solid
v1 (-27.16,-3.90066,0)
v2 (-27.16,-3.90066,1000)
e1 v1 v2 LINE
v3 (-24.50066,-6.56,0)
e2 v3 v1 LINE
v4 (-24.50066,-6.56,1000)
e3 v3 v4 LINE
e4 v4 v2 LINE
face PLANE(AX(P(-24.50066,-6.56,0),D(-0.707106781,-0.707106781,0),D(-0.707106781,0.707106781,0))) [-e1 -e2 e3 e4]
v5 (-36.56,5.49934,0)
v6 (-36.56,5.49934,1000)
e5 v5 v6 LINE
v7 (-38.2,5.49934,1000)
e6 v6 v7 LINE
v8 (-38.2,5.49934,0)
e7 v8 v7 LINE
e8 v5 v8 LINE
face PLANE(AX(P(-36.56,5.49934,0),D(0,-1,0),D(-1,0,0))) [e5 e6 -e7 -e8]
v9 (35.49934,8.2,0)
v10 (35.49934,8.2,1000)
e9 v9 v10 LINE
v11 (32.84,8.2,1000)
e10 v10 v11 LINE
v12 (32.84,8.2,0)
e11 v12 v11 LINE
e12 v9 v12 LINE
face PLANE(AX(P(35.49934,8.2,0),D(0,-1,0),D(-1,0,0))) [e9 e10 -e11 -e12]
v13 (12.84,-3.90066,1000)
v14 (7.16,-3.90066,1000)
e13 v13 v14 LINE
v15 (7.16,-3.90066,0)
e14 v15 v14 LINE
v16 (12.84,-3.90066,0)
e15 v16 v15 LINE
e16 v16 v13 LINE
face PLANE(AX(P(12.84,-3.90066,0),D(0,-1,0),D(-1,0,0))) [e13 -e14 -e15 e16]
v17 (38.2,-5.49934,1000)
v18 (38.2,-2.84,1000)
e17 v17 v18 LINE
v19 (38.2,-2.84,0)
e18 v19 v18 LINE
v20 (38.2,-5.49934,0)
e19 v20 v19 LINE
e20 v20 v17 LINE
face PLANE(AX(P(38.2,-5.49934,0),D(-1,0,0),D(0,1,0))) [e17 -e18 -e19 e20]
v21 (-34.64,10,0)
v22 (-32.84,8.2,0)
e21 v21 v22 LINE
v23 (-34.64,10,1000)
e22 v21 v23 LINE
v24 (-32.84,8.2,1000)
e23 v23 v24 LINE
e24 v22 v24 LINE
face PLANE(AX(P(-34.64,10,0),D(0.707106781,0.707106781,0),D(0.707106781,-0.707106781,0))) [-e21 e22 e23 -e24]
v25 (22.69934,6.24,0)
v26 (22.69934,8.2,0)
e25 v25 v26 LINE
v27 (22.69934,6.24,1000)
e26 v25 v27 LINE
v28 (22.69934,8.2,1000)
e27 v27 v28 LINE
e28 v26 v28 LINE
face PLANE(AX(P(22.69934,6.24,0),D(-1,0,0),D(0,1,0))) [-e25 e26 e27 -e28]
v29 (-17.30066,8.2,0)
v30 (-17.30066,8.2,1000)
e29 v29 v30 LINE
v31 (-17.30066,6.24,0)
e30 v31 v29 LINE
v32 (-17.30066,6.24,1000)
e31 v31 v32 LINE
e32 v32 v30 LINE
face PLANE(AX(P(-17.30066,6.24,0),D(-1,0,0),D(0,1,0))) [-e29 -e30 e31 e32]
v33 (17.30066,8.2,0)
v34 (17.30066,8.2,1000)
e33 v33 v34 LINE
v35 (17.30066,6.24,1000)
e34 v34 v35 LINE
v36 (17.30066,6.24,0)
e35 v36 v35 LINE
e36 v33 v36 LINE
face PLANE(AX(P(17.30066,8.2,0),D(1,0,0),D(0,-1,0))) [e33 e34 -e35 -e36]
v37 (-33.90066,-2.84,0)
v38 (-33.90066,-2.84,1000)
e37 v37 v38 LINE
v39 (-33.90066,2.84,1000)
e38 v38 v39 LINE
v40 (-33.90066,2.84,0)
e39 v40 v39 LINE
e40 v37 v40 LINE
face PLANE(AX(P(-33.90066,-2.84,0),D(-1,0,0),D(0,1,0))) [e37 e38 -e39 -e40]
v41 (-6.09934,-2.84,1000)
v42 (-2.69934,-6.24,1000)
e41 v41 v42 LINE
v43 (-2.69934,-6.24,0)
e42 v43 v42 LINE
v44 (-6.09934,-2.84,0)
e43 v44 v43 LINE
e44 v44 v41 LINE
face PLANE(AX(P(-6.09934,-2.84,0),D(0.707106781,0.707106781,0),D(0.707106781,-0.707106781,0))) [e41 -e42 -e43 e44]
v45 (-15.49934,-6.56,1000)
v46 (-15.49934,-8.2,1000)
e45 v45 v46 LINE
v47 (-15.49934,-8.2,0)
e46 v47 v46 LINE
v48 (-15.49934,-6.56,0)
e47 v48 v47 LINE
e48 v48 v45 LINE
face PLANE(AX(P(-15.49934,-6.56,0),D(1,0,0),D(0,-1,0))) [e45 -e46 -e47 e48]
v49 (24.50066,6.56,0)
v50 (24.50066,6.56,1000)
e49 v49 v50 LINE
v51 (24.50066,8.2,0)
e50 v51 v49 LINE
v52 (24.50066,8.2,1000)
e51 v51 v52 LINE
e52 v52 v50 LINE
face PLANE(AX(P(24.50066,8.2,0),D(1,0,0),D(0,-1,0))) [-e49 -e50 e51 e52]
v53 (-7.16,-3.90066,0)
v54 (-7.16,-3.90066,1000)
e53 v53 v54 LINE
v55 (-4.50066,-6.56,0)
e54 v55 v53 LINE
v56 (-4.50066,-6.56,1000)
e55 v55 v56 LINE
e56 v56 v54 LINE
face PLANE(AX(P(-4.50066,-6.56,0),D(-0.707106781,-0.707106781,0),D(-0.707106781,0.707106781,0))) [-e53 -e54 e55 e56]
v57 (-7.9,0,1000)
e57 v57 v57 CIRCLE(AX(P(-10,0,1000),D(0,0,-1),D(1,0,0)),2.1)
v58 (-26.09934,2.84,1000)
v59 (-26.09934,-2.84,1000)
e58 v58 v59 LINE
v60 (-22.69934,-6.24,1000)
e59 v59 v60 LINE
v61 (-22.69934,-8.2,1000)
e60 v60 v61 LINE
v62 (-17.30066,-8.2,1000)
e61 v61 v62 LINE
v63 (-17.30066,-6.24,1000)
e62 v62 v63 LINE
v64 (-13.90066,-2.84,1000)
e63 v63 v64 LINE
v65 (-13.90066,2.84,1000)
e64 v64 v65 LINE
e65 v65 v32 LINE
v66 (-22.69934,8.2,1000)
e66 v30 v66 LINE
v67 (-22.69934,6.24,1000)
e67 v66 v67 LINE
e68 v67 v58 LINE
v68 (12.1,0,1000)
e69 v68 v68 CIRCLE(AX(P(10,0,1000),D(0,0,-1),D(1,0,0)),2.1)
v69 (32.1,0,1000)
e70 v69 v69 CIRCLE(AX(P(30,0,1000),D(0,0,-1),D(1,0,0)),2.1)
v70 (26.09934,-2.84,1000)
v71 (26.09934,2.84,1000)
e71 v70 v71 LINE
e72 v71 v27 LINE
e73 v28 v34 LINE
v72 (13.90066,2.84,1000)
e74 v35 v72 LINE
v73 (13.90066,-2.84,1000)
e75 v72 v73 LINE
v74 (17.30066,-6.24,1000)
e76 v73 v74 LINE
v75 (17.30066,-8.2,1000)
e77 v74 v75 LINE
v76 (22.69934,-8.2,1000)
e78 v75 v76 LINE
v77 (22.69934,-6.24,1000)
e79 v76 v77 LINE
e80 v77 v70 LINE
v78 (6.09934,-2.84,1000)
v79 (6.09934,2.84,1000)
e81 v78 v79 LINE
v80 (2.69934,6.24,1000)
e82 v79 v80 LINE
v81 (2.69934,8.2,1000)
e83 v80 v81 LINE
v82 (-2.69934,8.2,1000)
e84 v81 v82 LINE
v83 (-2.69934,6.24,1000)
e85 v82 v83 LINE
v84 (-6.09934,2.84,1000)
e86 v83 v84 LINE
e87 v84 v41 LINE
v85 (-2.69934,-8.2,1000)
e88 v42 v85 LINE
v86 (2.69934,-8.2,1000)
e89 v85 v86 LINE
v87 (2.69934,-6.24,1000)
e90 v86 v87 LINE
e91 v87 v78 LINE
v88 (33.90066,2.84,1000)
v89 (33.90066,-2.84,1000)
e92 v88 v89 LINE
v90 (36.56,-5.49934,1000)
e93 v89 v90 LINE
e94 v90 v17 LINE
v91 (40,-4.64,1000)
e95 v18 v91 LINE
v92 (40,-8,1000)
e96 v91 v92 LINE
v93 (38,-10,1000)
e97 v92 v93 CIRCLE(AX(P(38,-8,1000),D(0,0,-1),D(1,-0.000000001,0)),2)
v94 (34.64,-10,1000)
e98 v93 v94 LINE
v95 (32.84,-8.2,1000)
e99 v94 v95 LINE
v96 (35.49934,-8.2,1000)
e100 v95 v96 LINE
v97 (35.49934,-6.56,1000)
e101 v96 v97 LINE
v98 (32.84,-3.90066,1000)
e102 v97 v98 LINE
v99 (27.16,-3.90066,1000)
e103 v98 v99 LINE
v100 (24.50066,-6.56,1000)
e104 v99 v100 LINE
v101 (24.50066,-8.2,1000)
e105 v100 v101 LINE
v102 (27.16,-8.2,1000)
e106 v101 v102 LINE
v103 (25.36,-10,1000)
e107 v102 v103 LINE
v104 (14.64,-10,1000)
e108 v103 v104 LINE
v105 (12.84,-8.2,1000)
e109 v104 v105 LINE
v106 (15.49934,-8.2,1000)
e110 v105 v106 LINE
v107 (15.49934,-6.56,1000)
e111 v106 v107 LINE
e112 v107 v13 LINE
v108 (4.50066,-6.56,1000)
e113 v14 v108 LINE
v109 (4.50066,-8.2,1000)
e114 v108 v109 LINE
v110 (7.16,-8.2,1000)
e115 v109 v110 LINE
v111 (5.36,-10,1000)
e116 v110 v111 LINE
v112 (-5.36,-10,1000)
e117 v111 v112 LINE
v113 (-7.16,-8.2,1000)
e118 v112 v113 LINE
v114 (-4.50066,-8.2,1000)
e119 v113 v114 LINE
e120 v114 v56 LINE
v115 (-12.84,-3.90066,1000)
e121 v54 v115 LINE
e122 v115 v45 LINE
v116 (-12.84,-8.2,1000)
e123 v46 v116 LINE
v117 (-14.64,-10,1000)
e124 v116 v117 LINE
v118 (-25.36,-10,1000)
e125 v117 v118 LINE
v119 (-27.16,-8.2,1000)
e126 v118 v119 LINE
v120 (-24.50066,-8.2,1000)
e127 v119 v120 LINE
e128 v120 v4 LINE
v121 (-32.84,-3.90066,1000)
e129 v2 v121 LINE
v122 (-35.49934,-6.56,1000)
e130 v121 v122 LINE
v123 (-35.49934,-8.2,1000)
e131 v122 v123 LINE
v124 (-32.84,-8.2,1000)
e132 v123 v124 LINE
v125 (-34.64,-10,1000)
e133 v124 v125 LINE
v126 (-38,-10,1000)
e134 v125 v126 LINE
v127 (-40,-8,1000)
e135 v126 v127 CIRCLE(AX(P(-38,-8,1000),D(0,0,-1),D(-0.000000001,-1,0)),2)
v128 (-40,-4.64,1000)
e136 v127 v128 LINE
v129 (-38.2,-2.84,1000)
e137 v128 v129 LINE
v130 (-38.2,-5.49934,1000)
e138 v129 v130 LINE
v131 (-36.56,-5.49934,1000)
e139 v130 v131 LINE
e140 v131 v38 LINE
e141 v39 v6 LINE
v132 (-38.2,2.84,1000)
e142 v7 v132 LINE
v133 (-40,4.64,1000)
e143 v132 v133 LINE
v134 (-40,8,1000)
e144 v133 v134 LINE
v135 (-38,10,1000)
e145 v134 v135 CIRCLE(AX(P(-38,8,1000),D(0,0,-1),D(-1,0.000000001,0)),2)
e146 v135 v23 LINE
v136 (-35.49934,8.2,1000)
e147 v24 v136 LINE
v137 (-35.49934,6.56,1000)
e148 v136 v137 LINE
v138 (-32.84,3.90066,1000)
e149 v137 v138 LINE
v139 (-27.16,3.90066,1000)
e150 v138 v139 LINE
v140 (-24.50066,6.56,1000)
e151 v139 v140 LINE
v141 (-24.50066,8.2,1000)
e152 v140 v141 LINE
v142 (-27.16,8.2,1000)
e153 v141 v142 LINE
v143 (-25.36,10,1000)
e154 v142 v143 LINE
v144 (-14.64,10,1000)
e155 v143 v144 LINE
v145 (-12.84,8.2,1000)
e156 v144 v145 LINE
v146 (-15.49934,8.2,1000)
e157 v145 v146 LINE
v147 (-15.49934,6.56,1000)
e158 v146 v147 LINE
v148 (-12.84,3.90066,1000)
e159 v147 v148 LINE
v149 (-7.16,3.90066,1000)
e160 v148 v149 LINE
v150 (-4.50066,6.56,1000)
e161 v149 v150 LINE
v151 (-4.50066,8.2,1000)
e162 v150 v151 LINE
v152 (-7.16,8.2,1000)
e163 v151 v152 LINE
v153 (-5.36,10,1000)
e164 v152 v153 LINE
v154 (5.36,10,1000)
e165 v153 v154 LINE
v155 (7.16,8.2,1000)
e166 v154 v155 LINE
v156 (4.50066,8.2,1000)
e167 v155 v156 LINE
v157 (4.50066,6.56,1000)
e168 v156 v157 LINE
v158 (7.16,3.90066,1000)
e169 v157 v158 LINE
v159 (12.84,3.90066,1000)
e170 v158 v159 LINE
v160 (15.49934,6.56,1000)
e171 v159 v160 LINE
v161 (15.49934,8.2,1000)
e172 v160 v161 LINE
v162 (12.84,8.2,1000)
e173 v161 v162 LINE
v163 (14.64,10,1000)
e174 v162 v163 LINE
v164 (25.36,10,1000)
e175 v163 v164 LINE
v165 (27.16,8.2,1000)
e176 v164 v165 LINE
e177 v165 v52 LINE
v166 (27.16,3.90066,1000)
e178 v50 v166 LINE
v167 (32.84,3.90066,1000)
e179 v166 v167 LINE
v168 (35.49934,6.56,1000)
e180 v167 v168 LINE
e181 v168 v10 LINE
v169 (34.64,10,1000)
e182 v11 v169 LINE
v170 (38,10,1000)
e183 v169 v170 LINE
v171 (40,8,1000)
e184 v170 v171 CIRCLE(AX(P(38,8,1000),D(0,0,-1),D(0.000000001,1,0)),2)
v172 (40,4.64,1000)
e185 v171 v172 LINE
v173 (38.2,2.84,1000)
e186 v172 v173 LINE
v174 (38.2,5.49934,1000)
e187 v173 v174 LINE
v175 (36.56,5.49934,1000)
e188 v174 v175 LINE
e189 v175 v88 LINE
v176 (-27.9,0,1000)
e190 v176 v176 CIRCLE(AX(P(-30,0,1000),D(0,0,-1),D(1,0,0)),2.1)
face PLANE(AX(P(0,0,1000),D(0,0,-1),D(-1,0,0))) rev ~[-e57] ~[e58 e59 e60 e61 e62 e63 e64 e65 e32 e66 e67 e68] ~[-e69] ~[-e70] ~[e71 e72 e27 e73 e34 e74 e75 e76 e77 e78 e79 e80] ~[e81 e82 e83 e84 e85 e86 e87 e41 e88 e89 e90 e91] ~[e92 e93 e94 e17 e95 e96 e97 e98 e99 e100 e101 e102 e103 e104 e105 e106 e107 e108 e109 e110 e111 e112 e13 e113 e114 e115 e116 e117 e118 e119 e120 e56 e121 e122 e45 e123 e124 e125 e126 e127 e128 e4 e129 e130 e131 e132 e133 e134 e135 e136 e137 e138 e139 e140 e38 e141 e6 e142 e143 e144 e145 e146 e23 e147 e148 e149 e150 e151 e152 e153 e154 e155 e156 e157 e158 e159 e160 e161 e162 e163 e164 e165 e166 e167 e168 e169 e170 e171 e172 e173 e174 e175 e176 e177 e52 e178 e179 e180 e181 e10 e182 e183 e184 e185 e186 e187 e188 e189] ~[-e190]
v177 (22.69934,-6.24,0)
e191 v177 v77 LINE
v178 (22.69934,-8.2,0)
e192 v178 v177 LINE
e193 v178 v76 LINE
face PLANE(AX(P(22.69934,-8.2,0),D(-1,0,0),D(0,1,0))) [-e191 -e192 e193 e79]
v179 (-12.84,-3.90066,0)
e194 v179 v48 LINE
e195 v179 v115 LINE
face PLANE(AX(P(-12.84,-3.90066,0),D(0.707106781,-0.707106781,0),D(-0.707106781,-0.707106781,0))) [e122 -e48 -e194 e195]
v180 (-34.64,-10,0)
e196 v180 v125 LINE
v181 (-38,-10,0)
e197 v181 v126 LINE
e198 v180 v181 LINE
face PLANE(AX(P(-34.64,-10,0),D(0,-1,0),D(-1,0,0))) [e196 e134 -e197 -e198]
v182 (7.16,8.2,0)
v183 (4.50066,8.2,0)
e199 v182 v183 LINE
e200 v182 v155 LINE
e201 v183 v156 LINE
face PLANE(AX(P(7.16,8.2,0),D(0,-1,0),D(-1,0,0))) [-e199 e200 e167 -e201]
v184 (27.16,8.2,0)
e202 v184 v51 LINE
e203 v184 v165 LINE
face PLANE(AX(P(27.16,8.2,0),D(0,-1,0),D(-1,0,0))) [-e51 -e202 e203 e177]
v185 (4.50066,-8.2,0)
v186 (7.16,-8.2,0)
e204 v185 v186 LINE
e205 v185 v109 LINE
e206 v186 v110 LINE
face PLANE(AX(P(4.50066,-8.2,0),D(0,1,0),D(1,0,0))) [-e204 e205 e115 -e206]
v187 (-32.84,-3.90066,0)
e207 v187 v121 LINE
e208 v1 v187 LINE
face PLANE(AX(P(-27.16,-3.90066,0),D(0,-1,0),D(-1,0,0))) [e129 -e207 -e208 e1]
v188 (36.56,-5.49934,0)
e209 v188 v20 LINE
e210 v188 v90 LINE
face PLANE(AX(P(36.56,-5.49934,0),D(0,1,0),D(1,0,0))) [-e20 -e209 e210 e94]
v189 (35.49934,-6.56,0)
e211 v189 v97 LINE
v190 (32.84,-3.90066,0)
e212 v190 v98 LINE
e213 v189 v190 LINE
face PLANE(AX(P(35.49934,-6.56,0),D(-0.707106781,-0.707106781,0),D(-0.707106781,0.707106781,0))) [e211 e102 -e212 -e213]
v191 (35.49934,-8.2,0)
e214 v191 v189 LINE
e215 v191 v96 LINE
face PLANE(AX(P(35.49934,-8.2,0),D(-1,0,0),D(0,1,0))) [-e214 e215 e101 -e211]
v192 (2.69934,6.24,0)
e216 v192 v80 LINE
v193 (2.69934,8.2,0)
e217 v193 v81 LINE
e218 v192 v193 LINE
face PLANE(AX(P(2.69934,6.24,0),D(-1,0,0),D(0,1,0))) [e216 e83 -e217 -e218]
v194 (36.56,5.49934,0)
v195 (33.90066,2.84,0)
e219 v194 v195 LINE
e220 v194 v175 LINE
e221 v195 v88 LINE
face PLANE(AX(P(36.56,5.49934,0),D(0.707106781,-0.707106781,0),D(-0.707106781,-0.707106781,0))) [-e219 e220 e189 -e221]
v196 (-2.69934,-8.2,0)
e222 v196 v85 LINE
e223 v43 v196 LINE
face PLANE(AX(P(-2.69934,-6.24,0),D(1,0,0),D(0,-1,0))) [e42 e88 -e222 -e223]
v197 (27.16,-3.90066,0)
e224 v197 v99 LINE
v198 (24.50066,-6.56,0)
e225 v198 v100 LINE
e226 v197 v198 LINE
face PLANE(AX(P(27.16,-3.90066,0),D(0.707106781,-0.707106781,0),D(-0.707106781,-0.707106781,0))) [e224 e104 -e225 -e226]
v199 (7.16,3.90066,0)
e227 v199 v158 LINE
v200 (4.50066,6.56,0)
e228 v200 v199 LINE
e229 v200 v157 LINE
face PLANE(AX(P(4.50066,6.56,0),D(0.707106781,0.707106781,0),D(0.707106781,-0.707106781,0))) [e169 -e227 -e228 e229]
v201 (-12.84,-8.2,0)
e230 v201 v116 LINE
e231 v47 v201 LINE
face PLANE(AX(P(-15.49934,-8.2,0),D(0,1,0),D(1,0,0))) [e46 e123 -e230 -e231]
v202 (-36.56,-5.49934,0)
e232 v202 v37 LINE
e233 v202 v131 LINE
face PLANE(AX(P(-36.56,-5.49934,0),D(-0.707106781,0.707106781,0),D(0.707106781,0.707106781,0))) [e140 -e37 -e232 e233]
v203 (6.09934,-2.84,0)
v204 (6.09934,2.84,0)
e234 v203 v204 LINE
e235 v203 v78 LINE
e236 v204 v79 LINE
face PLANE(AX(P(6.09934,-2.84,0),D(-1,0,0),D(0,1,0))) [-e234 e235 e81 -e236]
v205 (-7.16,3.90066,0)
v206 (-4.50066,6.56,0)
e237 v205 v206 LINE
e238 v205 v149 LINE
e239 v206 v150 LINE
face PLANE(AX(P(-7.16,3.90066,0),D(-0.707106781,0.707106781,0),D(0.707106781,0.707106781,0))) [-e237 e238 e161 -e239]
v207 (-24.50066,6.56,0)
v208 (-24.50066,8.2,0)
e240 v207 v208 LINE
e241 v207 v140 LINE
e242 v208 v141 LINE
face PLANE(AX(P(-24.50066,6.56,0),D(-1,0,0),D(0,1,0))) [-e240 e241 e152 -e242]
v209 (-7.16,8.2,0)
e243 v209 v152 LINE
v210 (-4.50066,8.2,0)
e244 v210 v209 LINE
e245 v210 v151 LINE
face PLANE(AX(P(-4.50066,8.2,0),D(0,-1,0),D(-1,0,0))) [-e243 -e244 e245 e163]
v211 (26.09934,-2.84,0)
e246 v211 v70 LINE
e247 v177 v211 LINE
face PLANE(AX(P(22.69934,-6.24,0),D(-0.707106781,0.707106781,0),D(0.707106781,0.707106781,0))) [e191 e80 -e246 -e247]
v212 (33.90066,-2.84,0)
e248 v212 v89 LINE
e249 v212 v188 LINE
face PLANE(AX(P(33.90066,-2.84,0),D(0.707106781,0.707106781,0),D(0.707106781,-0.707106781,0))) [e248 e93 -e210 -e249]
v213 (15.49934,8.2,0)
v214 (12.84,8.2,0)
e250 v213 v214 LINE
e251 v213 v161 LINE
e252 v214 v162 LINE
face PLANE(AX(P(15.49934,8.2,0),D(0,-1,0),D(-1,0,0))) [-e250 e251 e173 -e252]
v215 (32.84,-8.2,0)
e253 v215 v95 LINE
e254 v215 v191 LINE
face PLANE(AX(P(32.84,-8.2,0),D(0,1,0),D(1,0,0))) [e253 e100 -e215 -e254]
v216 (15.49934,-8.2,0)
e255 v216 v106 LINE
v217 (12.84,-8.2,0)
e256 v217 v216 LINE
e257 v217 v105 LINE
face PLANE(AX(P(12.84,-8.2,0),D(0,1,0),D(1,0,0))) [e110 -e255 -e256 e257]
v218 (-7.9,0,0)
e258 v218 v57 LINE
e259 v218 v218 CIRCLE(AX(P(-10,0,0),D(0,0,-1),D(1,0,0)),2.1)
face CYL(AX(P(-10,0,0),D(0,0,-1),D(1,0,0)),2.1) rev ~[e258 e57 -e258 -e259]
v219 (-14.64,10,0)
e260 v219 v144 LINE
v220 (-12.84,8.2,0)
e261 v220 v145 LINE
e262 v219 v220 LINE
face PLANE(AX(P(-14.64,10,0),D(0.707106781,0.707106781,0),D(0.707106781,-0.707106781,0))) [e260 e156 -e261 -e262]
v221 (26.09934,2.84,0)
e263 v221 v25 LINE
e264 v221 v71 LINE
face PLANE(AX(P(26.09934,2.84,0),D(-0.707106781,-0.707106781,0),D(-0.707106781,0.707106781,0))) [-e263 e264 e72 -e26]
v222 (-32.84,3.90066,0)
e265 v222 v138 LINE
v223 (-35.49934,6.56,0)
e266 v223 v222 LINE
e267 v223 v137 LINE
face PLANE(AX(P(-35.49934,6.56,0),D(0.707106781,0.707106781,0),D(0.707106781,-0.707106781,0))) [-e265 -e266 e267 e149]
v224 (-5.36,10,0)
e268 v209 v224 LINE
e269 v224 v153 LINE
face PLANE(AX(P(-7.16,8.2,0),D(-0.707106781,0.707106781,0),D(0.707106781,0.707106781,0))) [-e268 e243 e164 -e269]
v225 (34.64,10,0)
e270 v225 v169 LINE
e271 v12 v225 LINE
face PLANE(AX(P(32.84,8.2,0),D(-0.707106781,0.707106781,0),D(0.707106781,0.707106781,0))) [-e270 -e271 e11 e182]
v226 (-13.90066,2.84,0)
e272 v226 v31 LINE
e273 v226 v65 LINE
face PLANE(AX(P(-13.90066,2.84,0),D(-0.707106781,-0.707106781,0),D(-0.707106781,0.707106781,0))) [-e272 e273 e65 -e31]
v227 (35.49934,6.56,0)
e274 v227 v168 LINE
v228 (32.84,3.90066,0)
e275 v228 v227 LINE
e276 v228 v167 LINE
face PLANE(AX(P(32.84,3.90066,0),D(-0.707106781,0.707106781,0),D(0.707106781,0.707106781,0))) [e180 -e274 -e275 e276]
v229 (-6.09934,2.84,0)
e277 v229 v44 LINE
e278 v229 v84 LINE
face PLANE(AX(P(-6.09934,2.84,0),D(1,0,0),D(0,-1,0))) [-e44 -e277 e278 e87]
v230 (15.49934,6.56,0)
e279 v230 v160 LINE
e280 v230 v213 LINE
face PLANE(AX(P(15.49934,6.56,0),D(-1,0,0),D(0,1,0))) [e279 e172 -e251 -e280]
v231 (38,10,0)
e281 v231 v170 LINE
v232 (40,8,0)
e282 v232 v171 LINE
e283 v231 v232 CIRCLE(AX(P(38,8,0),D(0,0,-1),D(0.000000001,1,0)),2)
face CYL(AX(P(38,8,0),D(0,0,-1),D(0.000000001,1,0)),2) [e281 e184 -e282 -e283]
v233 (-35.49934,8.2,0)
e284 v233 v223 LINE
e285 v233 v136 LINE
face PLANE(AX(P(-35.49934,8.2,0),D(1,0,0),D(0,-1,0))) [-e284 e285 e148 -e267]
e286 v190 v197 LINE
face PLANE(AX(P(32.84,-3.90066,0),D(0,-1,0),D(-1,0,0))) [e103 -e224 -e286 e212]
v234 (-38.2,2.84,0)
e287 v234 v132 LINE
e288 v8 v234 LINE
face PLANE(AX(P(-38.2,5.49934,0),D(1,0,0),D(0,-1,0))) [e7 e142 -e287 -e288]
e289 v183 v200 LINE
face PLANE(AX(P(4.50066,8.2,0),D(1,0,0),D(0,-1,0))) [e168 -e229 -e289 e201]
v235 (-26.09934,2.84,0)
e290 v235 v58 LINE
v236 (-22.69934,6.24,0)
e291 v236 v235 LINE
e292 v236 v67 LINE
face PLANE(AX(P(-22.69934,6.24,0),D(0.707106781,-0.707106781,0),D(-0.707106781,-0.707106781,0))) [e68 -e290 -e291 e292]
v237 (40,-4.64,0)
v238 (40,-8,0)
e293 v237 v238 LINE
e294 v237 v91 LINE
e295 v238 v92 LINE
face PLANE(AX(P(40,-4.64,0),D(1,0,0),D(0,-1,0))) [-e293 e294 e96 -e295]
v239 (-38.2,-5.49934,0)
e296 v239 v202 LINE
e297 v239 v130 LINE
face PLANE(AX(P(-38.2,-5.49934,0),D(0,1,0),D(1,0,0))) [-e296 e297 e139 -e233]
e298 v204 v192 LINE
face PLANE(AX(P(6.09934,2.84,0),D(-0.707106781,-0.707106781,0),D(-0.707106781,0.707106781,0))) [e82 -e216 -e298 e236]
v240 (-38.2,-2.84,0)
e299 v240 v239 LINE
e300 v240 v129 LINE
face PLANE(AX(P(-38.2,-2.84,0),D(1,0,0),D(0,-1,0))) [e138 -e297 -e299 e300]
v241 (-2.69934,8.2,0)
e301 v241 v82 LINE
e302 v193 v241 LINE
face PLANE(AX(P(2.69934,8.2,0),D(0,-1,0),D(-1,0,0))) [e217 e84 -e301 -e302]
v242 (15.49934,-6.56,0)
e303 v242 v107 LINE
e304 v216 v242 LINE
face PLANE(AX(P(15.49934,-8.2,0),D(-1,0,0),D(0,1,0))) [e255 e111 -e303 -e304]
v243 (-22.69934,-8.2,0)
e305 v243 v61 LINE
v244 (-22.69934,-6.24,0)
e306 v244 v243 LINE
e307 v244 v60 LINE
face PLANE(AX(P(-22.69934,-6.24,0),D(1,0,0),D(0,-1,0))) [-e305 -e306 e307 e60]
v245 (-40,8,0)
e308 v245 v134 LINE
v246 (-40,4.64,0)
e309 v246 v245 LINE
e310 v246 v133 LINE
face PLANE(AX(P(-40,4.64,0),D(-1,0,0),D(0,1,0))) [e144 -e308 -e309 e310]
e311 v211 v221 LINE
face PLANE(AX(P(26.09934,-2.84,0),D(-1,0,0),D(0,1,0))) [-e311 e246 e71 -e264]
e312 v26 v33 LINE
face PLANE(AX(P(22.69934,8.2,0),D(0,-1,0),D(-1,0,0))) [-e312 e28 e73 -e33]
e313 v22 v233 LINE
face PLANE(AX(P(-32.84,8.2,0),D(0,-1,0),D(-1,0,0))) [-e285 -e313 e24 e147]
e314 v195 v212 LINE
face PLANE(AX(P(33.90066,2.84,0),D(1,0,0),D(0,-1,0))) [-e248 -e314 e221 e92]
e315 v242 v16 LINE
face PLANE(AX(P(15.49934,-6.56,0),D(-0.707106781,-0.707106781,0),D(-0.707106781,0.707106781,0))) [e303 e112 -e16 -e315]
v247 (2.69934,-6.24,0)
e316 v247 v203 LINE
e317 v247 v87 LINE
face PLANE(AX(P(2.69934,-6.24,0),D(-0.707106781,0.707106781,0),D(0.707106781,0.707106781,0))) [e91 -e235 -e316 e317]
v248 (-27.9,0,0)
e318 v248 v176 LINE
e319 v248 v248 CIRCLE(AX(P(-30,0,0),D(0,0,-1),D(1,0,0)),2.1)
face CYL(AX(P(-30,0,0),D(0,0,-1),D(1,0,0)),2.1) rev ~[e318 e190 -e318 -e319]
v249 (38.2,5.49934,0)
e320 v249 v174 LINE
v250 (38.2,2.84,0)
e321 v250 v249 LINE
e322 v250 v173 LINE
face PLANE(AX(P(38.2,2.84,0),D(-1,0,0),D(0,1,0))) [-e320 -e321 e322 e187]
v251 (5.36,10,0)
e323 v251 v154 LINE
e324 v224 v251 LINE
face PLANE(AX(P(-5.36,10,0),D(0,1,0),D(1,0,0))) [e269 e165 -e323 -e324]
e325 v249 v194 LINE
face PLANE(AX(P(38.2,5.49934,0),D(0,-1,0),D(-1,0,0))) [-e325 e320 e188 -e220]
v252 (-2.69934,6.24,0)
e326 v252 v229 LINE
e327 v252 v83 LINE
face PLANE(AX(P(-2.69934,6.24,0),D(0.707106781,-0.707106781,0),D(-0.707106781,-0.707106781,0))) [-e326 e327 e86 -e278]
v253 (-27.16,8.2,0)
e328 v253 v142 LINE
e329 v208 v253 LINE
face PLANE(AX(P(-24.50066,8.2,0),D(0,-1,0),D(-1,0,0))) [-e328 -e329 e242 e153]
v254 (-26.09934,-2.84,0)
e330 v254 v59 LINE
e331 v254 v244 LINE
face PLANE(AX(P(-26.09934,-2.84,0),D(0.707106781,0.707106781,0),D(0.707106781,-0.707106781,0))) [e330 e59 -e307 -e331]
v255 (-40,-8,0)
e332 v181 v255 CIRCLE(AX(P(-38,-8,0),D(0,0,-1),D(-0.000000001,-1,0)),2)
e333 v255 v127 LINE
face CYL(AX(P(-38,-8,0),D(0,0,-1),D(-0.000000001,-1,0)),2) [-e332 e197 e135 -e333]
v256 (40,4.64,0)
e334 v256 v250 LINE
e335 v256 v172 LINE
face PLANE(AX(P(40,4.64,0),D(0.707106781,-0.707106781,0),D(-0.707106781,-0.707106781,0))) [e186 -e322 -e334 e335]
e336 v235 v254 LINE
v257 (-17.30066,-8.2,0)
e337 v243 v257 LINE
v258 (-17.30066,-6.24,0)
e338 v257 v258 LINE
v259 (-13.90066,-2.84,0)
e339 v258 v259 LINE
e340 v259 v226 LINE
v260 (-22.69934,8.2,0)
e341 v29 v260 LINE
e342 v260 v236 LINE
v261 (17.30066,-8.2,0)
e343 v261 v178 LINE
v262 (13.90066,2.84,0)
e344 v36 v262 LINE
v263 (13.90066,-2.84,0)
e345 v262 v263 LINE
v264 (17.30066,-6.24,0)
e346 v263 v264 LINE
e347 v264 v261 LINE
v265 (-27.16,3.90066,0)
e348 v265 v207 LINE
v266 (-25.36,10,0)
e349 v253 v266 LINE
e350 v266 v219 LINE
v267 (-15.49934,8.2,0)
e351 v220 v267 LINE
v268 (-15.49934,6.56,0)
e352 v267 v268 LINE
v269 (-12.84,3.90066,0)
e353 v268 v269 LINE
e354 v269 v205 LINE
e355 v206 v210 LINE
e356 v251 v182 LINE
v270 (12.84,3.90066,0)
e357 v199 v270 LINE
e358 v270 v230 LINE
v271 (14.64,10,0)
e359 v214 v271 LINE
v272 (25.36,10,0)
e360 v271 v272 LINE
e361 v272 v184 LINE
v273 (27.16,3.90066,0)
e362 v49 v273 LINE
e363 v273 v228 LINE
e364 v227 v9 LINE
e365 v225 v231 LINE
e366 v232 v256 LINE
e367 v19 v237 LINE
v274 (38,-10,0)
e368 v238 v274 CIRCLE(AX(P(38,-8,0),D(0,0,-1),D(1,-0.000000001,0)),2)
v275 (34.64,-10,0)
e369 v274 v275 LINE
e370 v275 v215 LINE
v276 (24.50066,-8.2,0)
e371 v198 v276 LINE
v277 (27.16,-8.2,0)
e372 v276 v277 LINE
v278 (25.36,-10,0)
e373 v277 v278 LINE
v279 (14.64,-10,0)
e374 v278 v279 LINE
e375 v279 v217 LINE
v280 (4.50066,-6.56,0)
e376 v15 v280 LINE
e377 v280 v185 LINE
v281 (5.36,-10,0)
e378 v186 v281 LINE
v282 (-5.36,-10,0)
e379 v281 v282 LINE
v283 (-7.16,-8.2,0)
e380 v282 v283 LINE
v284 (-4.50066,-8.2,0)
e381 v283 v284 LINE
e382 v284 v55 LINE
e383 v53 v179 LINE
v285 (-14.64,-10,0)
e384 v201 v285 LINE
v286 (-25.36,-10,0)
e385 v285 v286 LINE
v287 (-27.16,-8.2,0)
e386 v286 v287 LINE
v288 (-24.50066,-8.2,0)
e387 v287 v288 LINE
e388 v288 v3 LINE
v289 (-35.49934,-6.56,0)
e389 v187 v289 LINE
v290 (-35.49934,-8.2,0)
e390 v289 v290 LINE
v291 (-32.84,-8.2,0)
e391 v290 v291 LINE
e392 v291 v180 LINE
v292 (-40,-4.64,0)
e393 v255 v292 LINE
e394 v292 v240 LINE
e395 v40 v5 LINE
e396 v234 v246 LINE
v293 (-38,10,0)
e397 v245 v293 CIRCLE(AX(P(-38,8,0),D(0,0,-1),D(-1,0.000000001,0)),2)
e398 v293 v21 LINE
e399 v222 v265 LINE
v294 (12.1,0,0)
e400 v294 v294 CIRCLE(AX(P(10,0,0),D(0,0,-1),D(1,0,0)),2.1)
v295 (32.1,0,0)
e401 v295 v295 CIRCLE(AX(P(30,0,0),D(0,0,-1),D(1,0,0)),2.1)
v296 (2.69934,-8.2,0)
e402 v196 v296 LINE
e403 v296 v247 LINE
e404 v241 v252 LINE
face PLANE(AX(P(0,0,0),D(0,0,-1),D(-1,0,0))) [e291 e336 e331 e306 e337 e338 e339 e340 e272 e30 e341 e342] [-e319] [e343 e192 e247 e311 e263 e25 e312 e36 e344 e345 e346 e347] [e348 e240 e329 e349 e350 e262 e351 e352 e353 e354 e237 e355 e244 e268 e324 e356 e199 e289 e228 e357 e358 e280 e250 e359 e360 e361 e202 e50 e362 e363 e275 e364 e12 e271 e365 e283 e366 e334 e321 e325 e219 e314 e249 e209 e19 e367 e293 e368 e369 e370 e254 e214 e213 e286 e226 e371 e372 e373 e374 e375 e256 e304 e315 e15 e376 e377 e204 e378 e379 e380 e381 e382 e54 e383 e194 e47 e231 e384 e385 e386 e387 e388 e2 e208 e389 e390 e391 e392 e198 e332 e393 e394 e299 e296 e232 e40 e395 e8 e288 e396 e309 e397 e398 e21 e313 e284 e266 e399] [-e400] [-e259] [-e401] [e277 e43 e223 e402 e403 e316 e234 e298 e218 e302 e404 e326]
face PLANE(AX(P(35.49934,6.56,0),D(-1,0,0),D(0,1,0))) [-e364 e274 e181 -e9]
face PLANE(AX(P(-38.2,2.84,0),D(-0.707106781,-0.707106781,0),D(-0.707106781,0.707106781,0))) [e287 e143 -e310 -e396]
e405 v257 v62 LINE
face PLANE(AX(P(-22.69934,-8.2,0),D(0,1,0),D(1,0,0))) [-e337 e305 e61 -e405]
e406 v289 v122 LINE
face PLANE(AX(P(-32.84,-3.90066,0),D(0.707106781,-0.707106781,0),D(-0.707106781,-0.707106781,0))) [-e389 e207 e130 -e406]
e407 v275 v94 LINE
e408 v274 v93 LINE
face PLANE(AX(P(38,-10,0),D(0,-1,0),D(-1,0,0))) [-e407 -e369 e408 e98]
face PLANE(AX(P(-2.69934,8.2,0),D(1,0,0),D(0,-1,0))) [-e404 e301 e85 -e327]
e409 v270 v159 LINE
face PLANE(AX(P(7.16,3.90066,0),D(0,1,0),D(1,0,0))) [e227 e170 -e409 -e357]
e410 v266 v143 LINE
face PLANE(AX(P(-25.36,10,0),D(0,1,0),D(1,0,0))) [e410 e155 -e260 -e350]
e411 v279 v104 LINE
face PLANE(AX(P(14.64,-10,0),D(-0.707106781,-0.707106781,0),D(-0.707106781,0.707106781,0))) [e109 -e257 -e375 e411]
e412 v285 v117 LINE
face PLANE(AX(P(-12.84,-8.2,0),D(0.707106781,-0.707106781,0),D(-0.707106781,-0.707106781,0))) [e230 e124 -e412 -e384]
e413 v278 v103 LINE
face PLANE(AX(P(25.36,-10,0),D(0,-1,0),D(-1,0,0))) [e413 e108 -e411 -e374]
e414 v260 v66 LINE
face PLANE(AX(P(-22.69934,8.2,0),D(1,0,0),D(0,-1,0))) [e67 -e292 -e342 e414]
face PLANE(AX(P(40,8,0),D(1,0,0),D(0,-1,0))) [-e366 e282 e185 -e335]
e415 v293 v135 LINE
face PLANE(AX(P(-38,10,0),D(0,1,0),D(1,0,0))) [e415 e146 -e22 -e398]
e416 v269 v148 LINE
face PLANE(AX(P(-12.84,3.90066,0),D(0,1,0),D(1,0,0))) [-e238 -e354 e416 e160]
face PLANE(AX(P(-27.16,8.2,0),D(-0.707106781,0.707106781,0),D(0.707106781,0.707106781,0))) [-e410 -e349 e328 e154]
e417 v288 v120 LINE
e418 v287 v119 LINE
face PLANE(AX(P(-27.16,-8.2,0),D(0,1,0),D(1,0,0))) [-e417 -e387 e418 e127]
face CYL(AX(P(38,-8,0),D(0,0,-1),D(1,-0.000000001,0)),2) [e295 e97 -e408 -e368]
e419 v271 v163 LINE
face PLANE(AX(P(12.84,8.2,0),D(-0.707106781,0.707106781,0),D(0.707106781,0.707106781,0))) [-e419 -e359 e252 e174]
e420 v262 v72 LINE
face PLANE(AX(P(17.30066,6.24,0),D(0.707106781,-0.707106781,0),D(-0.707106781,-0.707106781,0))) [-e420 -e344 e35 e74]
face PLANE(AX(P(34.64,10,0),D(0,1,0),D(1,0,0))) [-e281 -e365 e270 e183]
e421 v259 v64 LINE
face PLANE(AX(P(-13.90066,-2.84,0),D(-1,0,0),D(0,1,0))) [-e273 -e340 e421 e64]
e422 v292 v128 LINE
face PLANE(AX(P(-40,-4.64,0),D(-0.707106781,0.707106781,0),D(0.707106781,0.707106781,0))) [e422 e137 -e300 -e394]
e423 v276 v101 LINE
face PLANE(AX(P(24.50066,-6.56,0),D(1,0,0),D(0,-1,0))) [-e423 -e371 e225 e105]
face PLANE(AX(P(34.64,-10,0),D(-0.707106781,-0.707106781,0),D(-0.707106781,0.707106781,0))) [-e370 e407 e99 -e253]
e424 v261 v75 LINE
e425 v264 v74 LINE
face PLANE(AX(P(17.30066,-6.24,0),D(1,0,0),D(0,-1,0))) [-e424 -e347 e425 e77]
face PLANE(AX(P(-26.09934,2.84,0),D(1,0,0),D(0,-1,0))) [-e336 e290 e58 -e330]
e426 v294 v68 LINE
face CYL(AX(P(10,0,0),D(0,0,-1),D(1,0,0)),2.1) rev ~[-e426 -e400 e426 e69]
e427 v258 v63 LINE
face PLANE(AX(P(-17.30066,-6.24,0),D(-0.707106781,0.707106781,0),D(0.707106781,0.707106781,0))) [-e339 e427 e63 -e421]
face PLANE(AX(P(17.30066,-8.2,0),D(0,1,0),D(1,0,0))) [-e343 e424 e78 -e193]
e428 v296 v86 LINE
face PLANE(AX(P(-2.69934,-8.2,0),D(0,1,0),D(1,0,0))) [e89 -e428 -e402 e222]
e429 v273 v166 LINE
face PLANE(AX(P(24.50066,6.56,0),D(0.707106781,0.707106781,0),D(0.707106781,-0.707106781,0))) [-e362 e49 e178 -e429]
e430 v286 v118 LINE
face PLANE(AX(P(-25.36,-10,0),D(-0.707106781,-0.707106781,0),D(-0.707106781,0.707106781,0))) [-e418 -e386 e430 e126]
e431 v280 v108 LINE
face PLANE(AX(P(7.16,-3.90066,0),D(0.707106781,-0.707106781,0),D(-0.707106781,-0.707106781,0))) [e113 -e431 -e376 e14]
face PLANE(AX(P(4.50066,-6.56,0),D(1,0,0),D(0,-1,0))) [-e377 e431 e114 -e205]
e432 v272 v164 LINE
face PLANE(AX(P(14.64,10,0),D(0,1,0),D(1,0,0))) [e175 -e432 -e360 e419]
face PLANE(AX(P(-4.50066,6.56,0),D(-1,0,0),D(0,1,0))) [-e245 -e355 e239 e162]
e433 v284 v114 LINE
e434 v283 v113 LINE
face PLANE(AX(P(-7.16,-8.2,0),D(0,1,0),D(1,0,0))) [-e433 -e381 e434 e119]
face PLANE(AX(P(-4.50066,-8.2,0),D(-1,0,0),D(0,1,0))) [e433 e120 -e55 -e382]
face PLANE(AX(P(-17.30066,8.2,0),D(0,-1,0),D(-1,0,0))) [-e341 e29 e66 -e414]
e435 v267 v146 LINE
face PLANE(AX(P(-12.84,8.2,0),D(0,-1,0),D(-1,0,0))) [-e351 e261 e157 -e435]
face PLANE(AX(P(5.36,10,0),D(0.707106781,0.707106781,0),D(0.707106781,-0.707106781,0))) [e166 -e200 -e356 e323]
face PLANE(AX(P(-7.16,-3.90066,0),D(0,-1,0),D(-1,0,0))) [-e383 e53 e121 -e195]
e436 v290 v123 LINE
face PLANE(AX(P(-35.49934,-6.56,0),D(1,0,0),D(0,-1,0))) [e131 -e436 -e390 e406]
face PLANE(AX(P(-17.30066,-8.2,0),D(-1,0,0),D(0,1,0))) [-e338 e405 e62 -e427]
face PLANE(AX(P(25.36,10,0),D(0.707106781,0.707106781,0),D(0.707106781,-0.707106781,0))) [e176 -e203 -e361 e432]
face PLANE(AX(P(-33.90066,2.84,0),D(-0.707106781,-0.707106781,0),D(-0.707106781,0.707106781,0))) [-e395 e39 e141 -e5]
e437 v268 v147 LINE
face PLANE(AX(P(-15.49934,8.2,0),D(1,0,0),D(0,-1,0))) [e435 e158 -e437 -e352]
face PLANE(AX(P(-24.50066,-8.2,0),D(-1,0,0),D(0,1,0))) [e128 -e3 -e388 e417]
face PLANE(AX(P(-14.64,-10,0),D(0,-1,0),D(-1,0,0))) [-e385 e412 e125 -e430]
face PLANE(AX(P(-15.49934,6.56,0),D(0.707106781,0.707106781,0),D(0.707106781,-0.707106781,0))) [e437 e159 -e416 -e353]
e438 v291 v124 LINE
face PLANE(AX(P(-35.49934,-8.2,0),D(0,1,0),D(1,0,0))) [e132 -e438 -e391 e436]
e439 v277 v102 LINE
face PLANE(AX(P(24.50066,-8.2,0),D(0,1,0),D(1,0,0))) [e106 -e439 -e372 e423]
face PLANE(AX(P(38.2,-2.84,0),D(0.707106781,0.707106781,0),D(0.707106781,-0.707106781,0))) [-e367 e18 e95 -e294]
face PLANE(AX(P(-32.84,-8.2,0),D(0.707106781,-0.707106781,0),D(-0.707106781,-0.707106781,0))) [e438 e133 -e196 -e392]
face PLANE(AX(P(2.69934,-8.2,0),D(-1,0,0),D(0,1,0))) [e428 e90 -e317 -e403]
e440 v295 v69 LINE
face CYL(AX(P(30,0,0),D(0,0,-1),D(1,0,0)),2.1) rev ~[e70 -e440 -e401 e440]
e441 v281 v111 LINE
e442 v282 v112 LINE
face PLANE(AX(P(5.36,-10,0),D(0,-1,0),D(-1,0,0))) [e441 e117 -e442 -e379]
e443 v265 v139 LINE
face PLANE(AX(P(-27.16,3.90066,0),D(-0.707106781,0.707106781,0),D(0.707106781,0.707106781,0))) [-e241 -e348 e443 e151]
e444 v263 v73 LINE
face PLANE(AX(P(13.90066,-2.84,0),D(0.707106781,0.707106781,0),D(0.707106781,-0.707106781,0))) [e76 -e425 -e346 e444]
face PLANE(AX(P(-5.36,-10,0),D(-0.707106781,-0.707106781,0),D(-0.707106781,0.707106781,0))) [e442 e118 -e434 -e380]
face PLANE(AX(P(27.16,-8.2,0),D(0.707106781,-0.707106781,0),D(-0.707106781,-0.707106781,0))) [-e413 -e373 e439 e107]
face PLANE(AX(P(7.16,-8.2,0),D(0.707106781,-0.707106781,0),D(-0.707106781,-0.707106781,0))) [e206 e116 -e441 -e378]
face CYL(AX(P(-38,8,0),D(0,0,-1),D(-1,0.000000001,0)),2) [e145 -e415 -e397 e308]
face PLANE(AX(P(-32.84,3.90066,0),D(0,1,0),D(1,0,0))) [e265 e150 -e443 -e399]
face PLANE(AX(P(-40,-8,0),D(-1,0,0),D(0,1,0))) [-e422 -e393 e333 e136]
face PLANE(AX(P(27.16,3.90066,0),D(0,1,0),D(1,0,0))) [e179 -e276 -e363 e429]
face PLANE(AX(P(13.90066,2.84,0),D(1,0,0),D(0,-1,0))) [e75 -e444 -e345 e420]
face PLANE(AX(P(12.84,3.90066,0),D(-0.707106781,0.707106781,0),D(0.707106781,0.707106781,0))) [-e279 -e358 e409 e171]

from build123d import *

# Parameters (mm, degrees)
SKETCH1_R           = 2.1
BOSS_EXTRUDE1_DEPTH = 1000


with BuildPart() as part:
    # Sketch1 → Boss-Extrude1 (new body)
    with BuildSketch(Plane(origin=(0, 0, 0), x_dir=(-1, 0, 0), z_dir=(0, 0, -1))):
        with BuildLine():
            Line((15.499339828, -8.2), (12.84, -8.2))
            Line((12.84, -8.2), (14.64, -10))
            Line((14.64, -10), (25.36, -10))
            Line((25.36, -10), (27.16, -8.2))
            Line((27.16, -8.2), (24.500660172, -8.2))
            Line((24.500660172, -8.2), (24.500660172, -6.56))
            Line((24.500660172, -6.56), (27.16, -3.900660172))
            Line((27.16, -3.900660172), (32.84, -3.900660172))
            Line((32.84, -3.900660172), (35.499339828, -6.56))
            Line((35.499339828, -6.56), (35.499339828, -8.2))
            Line((35.499339828, -8.2), (32.84, -8.2))
            Line((32.84, -8.2), (34.64, -10))
            Line((34.64, -10), (38, -10))
            ThreePointArc((38, -10), (39.414213562, -9.414213562), (40, -8))
            Line((40, -8), (40, -4.64))
            Line((40, -4.64), (38.2, -2.84))
            Line((38.2, -2.84), (38.2, -5.499339828))
            Line((38.2, -5.499339828), (36.56, -5.499339828))
            Line((36.56, -5.499339828), (33.900660172, -2.84))
            Line((33.900660172, -2.84), (33.900660172, 2.84))
            Line((33.900660172, 2.84), (36.56, 5.499339828))
            Line((36.56, 5.499339828), (38.2, 5.499339828))
            Line((38.2, 5.499339828), (38.2, 2.84))
            Line((38.2, 2.84), (40, 4.64))
            Line((40, 4.64), (40, 8))
            ThreePointArc((40, 8), (39.414213562, 9.414213562), (38, 10))
            Line((38, 10), (34.64, 10))
            Line((34.64, 10), (32.84, 8.2))
            Line((32.84, 8.2), (35.499339828, 8.2))
            Line((35.499339828, 8.2), (35.499339828, 6.56))
            Line((35.499339828, 6.56), (32.84, 3.900660172))
            Line((32.84, 3.900660172), (27.16, 3.900660172))
            Line((27.16, 3.900660172), (24.500660172, 6.56))
            Line((24.500660172, 6.56), (24.500660172, 8.2))
            Line((24.500660172, 8.2), (27.16, 8.2))
            Line((27.16, 8.2), (25.36, 10))
            Line((25.36, 10), (14.64, 10))
            Line((14.64, 10), (12.84, 8.2))
            Line((12.84, 8.2), (15.499339828, 8.2))
            Line((15.499339828, 8.2), (15.499339828, 6.56))
            Line((15.499339828, 6.56), (12.84, 3.900660172))
            Line((12.84, 3.900660172), (7.16, 3.900660172))
            Line((7.16, 3.900660172), (4.500660172, 6.56))
            Line((4.500660172, 6.56), (4.500660172, 8.2))
            Line((4.500660172, 8.2), (7.16, 8.2))
            Line((7.16, 8.2), (5.36, 10))
            Line((5.36, 10), (-5.36, 10))
            Line((-5.36, 10), (-7.16, 8.2))
            Line((-7.16, 8.2), (-4.500660172, 8.2))
            Line((-4.500660172, 8.2), (-4.500660172, 6.56))
            Line((-4.500660172, 6.56), (-7.16, 3.900660172))
            Line((-7.16, 3.900660172), (-12.84, 3.900660172))
            Line((-12.84, 3.900660172), (-15.499339828, 6.56))
            Line((-15.499339828, 6.56), (-15.499339828, 8.2))
            Line((-15.499339828, 8.2), (-12.84, 8.2))
            Line((-12.84, 8.2), (-14.64, 10))
            Line((-14.64, 10), (-25.36, 10))
            Line((-25.36, 10), (-27.16, 8.2))
            Line((-27.16, 8.2), (-24.500660172, 8.2))
            Line((-24.500660172, 8.2), (-24.500660172, 6.56))
            Line((-24.500660172, 6.56), (-27.16, 3.900660172))
            Line((-27.16, 3.900660172), (-32.84, 3.900660172))
            Line((-32.84, 3.900660172), (-35.499339828, 6.56))
            Line((-35.499339828, 6.56), (-35.499339828, 8.2))
            Line((-35.499339828, 8.2), (-32.84, 8.2))
            Line((-32.84, 8.2), (-34.64, 10))
            Line((-34.64, 10), (-38, 10))
            ThreePointArc((-38, 10), (-39.414213562, 9.414213562), (-40, 8))
            Line((-40, 8), (-40, 4.64))
            Line((-40, 4.64), (-38.2, 2.84))
            Line((-38.2, 2.84), (-38.2, 5.499339828))
            Line((-38.2, 5.499339828), (-36.56, 5.499339828))
            Line((-36.56, 5.499339828), (-33.900660172, 2.84))
            Line((-33.900660172, 2.84), (-33.900660172, -2.84))
            Line((-33.900660172, -2.84), (-36.56, -5.499339828))
            Line((-36.56, -5.499339828), (-38.2, -5.499339828))
            Line((-38.2, -5.499339828), (-38.2, -2.84))
            Line((-38.2, -2.84), (-40, -4.64))
            Line((-40, -4.64), (-40, -8))
            ThreePointArc((-40, -8), (-39.414213562, -9.414213562), (-38, -10))
            Line((-38, -10), (-34.64, -10))
            Line((-34.64, -10), (-32.84, -8.2))
            Line((-32.84, -8.2), (-35.499339828, -8.2))
            Line((-35.499339828, -8.2), (-35.499339828, -6.56))
            Line((-35.499339828, -6.56), (-32.84, -3.900660172))
            Line((-32.84, -3.900660172), (-27.16, -3.900660172))
            Line((-27.16, -3.900660172), (-24.500660172, -6.56))
            Line((-24.500660172, -6.56), (-24.500660172, -8.2))
            Line((-24.500660172, -8.2), (-27.16, -8.2))
            Line((-27.16, -8.2), (-25.36, -10))
            Line((-25.36, -10), (-14.64, -10))
            Line((-14.64, -10), (-12.84, -8.2))
            Line((-12.84, -8.2), (-15.499339828, -8.2))
            Line((-15.499339828, -8.2), (-15.499339828, -6.56))
            Line((-15.499339828, -6.56), (-12.84, -3.900660172))
            Line((-12.84, -3.900660172), (-7.16, -3.900660172))
            Line((-7.16, -3.900660172), (-4.500660172, -6.56))
            Line((-4.500660172, -6.56), (-4.500660172, -8.2))
            Line((-4.500660172, -8.2), (-7.16, -8.2))
            Line((-7.16, -8.2), (-5.36, -10))
            Line((-5.36, -10), (5.36, -10))
            Line((5.36, -10), (7.16, -8.2))
            Line((7.16, -8.2), (4.500660172, -8.2))
            Line((4.500660172, -8.2), (4.500660172, -6.56))
            Line((4.500660172, -6.56), (7.16, -3.900660172))
            Line((7.16, -3.900660172), (12.84, -3.900660172))
            Line((12.84, -3.900660172), (15.499339828, -6.56))
            Line((15.499339828, -6.56), (15.499339828, -8.2))
        make_face()
        with Locations(Location((10, 0, 0), (0, 0, 180))):
            Circle(SKETCH1_R, mode=Mode.SUBTRACT)
        with Locations(Location((30, 0, 0), (0, 0, 180))):
            Circle(SKETCH1_R, mode=Mode.SUBTRACT)
        with Locations(Location((-10, 0, 0), (0, 0, 180))):
            Circle(SKETCH1_R, mode=Mode.SUBTRACT)
        with Locations(Location((-30, 0, 0), (0, 0, 180))):
            Circle(SKETCH1_R, mode=Mode.SUBTRACT)
        Polygon((17.300660172, -6.24), (13.900660172, -2.84), (13.900660172, 2.84), (17.300660172, 6.24), (17.300660172, 8.2), (22.699339828, 8.2), (22.699339828, 6.24), (26.099339828, 2.84), (26.099339828, -2.84), (22.699339828, -6.24), (22.699339828, -8.2), (17.300660172, -8.2), align=None, mode=Mode.SUBTRACT)
        Polygon((2.699339828, 6.24), (6.099339828, 2.84), (6.099339828, -2.84), (2.699339828, -6.24), (2.699339828, -8.2), (-2.699339828, -8.2), (-2.699339828, -6.24), (-6.099339828, -2.84), (-6.099339828, 2.84), (-2.699339828, 6.24), (-2.699339828, 8.2), (2.699339828, 8.2), align=None, mode=Mode.SUBTRACT)
        Polygon((-13.900660172, -2.84), (-17.300660172, -6.24), (-17.300660172, -8.2), (-22.699339828, -8.2), (-22.699339828, -6.24), (-26.099339828, -2.84), (-26.099339828, 2.84), (-22.699339828, 6.24), (-22.699339828, 8.2), (-17.300660172, 8.2), (-17.300660172, 6.24), (-13.900660172, 2.84), align=None, mode=Mode.SUBTRACT)
    extrude(amount=-BOSS_EXTRUDE1_DEPTH)


solid = part.part
